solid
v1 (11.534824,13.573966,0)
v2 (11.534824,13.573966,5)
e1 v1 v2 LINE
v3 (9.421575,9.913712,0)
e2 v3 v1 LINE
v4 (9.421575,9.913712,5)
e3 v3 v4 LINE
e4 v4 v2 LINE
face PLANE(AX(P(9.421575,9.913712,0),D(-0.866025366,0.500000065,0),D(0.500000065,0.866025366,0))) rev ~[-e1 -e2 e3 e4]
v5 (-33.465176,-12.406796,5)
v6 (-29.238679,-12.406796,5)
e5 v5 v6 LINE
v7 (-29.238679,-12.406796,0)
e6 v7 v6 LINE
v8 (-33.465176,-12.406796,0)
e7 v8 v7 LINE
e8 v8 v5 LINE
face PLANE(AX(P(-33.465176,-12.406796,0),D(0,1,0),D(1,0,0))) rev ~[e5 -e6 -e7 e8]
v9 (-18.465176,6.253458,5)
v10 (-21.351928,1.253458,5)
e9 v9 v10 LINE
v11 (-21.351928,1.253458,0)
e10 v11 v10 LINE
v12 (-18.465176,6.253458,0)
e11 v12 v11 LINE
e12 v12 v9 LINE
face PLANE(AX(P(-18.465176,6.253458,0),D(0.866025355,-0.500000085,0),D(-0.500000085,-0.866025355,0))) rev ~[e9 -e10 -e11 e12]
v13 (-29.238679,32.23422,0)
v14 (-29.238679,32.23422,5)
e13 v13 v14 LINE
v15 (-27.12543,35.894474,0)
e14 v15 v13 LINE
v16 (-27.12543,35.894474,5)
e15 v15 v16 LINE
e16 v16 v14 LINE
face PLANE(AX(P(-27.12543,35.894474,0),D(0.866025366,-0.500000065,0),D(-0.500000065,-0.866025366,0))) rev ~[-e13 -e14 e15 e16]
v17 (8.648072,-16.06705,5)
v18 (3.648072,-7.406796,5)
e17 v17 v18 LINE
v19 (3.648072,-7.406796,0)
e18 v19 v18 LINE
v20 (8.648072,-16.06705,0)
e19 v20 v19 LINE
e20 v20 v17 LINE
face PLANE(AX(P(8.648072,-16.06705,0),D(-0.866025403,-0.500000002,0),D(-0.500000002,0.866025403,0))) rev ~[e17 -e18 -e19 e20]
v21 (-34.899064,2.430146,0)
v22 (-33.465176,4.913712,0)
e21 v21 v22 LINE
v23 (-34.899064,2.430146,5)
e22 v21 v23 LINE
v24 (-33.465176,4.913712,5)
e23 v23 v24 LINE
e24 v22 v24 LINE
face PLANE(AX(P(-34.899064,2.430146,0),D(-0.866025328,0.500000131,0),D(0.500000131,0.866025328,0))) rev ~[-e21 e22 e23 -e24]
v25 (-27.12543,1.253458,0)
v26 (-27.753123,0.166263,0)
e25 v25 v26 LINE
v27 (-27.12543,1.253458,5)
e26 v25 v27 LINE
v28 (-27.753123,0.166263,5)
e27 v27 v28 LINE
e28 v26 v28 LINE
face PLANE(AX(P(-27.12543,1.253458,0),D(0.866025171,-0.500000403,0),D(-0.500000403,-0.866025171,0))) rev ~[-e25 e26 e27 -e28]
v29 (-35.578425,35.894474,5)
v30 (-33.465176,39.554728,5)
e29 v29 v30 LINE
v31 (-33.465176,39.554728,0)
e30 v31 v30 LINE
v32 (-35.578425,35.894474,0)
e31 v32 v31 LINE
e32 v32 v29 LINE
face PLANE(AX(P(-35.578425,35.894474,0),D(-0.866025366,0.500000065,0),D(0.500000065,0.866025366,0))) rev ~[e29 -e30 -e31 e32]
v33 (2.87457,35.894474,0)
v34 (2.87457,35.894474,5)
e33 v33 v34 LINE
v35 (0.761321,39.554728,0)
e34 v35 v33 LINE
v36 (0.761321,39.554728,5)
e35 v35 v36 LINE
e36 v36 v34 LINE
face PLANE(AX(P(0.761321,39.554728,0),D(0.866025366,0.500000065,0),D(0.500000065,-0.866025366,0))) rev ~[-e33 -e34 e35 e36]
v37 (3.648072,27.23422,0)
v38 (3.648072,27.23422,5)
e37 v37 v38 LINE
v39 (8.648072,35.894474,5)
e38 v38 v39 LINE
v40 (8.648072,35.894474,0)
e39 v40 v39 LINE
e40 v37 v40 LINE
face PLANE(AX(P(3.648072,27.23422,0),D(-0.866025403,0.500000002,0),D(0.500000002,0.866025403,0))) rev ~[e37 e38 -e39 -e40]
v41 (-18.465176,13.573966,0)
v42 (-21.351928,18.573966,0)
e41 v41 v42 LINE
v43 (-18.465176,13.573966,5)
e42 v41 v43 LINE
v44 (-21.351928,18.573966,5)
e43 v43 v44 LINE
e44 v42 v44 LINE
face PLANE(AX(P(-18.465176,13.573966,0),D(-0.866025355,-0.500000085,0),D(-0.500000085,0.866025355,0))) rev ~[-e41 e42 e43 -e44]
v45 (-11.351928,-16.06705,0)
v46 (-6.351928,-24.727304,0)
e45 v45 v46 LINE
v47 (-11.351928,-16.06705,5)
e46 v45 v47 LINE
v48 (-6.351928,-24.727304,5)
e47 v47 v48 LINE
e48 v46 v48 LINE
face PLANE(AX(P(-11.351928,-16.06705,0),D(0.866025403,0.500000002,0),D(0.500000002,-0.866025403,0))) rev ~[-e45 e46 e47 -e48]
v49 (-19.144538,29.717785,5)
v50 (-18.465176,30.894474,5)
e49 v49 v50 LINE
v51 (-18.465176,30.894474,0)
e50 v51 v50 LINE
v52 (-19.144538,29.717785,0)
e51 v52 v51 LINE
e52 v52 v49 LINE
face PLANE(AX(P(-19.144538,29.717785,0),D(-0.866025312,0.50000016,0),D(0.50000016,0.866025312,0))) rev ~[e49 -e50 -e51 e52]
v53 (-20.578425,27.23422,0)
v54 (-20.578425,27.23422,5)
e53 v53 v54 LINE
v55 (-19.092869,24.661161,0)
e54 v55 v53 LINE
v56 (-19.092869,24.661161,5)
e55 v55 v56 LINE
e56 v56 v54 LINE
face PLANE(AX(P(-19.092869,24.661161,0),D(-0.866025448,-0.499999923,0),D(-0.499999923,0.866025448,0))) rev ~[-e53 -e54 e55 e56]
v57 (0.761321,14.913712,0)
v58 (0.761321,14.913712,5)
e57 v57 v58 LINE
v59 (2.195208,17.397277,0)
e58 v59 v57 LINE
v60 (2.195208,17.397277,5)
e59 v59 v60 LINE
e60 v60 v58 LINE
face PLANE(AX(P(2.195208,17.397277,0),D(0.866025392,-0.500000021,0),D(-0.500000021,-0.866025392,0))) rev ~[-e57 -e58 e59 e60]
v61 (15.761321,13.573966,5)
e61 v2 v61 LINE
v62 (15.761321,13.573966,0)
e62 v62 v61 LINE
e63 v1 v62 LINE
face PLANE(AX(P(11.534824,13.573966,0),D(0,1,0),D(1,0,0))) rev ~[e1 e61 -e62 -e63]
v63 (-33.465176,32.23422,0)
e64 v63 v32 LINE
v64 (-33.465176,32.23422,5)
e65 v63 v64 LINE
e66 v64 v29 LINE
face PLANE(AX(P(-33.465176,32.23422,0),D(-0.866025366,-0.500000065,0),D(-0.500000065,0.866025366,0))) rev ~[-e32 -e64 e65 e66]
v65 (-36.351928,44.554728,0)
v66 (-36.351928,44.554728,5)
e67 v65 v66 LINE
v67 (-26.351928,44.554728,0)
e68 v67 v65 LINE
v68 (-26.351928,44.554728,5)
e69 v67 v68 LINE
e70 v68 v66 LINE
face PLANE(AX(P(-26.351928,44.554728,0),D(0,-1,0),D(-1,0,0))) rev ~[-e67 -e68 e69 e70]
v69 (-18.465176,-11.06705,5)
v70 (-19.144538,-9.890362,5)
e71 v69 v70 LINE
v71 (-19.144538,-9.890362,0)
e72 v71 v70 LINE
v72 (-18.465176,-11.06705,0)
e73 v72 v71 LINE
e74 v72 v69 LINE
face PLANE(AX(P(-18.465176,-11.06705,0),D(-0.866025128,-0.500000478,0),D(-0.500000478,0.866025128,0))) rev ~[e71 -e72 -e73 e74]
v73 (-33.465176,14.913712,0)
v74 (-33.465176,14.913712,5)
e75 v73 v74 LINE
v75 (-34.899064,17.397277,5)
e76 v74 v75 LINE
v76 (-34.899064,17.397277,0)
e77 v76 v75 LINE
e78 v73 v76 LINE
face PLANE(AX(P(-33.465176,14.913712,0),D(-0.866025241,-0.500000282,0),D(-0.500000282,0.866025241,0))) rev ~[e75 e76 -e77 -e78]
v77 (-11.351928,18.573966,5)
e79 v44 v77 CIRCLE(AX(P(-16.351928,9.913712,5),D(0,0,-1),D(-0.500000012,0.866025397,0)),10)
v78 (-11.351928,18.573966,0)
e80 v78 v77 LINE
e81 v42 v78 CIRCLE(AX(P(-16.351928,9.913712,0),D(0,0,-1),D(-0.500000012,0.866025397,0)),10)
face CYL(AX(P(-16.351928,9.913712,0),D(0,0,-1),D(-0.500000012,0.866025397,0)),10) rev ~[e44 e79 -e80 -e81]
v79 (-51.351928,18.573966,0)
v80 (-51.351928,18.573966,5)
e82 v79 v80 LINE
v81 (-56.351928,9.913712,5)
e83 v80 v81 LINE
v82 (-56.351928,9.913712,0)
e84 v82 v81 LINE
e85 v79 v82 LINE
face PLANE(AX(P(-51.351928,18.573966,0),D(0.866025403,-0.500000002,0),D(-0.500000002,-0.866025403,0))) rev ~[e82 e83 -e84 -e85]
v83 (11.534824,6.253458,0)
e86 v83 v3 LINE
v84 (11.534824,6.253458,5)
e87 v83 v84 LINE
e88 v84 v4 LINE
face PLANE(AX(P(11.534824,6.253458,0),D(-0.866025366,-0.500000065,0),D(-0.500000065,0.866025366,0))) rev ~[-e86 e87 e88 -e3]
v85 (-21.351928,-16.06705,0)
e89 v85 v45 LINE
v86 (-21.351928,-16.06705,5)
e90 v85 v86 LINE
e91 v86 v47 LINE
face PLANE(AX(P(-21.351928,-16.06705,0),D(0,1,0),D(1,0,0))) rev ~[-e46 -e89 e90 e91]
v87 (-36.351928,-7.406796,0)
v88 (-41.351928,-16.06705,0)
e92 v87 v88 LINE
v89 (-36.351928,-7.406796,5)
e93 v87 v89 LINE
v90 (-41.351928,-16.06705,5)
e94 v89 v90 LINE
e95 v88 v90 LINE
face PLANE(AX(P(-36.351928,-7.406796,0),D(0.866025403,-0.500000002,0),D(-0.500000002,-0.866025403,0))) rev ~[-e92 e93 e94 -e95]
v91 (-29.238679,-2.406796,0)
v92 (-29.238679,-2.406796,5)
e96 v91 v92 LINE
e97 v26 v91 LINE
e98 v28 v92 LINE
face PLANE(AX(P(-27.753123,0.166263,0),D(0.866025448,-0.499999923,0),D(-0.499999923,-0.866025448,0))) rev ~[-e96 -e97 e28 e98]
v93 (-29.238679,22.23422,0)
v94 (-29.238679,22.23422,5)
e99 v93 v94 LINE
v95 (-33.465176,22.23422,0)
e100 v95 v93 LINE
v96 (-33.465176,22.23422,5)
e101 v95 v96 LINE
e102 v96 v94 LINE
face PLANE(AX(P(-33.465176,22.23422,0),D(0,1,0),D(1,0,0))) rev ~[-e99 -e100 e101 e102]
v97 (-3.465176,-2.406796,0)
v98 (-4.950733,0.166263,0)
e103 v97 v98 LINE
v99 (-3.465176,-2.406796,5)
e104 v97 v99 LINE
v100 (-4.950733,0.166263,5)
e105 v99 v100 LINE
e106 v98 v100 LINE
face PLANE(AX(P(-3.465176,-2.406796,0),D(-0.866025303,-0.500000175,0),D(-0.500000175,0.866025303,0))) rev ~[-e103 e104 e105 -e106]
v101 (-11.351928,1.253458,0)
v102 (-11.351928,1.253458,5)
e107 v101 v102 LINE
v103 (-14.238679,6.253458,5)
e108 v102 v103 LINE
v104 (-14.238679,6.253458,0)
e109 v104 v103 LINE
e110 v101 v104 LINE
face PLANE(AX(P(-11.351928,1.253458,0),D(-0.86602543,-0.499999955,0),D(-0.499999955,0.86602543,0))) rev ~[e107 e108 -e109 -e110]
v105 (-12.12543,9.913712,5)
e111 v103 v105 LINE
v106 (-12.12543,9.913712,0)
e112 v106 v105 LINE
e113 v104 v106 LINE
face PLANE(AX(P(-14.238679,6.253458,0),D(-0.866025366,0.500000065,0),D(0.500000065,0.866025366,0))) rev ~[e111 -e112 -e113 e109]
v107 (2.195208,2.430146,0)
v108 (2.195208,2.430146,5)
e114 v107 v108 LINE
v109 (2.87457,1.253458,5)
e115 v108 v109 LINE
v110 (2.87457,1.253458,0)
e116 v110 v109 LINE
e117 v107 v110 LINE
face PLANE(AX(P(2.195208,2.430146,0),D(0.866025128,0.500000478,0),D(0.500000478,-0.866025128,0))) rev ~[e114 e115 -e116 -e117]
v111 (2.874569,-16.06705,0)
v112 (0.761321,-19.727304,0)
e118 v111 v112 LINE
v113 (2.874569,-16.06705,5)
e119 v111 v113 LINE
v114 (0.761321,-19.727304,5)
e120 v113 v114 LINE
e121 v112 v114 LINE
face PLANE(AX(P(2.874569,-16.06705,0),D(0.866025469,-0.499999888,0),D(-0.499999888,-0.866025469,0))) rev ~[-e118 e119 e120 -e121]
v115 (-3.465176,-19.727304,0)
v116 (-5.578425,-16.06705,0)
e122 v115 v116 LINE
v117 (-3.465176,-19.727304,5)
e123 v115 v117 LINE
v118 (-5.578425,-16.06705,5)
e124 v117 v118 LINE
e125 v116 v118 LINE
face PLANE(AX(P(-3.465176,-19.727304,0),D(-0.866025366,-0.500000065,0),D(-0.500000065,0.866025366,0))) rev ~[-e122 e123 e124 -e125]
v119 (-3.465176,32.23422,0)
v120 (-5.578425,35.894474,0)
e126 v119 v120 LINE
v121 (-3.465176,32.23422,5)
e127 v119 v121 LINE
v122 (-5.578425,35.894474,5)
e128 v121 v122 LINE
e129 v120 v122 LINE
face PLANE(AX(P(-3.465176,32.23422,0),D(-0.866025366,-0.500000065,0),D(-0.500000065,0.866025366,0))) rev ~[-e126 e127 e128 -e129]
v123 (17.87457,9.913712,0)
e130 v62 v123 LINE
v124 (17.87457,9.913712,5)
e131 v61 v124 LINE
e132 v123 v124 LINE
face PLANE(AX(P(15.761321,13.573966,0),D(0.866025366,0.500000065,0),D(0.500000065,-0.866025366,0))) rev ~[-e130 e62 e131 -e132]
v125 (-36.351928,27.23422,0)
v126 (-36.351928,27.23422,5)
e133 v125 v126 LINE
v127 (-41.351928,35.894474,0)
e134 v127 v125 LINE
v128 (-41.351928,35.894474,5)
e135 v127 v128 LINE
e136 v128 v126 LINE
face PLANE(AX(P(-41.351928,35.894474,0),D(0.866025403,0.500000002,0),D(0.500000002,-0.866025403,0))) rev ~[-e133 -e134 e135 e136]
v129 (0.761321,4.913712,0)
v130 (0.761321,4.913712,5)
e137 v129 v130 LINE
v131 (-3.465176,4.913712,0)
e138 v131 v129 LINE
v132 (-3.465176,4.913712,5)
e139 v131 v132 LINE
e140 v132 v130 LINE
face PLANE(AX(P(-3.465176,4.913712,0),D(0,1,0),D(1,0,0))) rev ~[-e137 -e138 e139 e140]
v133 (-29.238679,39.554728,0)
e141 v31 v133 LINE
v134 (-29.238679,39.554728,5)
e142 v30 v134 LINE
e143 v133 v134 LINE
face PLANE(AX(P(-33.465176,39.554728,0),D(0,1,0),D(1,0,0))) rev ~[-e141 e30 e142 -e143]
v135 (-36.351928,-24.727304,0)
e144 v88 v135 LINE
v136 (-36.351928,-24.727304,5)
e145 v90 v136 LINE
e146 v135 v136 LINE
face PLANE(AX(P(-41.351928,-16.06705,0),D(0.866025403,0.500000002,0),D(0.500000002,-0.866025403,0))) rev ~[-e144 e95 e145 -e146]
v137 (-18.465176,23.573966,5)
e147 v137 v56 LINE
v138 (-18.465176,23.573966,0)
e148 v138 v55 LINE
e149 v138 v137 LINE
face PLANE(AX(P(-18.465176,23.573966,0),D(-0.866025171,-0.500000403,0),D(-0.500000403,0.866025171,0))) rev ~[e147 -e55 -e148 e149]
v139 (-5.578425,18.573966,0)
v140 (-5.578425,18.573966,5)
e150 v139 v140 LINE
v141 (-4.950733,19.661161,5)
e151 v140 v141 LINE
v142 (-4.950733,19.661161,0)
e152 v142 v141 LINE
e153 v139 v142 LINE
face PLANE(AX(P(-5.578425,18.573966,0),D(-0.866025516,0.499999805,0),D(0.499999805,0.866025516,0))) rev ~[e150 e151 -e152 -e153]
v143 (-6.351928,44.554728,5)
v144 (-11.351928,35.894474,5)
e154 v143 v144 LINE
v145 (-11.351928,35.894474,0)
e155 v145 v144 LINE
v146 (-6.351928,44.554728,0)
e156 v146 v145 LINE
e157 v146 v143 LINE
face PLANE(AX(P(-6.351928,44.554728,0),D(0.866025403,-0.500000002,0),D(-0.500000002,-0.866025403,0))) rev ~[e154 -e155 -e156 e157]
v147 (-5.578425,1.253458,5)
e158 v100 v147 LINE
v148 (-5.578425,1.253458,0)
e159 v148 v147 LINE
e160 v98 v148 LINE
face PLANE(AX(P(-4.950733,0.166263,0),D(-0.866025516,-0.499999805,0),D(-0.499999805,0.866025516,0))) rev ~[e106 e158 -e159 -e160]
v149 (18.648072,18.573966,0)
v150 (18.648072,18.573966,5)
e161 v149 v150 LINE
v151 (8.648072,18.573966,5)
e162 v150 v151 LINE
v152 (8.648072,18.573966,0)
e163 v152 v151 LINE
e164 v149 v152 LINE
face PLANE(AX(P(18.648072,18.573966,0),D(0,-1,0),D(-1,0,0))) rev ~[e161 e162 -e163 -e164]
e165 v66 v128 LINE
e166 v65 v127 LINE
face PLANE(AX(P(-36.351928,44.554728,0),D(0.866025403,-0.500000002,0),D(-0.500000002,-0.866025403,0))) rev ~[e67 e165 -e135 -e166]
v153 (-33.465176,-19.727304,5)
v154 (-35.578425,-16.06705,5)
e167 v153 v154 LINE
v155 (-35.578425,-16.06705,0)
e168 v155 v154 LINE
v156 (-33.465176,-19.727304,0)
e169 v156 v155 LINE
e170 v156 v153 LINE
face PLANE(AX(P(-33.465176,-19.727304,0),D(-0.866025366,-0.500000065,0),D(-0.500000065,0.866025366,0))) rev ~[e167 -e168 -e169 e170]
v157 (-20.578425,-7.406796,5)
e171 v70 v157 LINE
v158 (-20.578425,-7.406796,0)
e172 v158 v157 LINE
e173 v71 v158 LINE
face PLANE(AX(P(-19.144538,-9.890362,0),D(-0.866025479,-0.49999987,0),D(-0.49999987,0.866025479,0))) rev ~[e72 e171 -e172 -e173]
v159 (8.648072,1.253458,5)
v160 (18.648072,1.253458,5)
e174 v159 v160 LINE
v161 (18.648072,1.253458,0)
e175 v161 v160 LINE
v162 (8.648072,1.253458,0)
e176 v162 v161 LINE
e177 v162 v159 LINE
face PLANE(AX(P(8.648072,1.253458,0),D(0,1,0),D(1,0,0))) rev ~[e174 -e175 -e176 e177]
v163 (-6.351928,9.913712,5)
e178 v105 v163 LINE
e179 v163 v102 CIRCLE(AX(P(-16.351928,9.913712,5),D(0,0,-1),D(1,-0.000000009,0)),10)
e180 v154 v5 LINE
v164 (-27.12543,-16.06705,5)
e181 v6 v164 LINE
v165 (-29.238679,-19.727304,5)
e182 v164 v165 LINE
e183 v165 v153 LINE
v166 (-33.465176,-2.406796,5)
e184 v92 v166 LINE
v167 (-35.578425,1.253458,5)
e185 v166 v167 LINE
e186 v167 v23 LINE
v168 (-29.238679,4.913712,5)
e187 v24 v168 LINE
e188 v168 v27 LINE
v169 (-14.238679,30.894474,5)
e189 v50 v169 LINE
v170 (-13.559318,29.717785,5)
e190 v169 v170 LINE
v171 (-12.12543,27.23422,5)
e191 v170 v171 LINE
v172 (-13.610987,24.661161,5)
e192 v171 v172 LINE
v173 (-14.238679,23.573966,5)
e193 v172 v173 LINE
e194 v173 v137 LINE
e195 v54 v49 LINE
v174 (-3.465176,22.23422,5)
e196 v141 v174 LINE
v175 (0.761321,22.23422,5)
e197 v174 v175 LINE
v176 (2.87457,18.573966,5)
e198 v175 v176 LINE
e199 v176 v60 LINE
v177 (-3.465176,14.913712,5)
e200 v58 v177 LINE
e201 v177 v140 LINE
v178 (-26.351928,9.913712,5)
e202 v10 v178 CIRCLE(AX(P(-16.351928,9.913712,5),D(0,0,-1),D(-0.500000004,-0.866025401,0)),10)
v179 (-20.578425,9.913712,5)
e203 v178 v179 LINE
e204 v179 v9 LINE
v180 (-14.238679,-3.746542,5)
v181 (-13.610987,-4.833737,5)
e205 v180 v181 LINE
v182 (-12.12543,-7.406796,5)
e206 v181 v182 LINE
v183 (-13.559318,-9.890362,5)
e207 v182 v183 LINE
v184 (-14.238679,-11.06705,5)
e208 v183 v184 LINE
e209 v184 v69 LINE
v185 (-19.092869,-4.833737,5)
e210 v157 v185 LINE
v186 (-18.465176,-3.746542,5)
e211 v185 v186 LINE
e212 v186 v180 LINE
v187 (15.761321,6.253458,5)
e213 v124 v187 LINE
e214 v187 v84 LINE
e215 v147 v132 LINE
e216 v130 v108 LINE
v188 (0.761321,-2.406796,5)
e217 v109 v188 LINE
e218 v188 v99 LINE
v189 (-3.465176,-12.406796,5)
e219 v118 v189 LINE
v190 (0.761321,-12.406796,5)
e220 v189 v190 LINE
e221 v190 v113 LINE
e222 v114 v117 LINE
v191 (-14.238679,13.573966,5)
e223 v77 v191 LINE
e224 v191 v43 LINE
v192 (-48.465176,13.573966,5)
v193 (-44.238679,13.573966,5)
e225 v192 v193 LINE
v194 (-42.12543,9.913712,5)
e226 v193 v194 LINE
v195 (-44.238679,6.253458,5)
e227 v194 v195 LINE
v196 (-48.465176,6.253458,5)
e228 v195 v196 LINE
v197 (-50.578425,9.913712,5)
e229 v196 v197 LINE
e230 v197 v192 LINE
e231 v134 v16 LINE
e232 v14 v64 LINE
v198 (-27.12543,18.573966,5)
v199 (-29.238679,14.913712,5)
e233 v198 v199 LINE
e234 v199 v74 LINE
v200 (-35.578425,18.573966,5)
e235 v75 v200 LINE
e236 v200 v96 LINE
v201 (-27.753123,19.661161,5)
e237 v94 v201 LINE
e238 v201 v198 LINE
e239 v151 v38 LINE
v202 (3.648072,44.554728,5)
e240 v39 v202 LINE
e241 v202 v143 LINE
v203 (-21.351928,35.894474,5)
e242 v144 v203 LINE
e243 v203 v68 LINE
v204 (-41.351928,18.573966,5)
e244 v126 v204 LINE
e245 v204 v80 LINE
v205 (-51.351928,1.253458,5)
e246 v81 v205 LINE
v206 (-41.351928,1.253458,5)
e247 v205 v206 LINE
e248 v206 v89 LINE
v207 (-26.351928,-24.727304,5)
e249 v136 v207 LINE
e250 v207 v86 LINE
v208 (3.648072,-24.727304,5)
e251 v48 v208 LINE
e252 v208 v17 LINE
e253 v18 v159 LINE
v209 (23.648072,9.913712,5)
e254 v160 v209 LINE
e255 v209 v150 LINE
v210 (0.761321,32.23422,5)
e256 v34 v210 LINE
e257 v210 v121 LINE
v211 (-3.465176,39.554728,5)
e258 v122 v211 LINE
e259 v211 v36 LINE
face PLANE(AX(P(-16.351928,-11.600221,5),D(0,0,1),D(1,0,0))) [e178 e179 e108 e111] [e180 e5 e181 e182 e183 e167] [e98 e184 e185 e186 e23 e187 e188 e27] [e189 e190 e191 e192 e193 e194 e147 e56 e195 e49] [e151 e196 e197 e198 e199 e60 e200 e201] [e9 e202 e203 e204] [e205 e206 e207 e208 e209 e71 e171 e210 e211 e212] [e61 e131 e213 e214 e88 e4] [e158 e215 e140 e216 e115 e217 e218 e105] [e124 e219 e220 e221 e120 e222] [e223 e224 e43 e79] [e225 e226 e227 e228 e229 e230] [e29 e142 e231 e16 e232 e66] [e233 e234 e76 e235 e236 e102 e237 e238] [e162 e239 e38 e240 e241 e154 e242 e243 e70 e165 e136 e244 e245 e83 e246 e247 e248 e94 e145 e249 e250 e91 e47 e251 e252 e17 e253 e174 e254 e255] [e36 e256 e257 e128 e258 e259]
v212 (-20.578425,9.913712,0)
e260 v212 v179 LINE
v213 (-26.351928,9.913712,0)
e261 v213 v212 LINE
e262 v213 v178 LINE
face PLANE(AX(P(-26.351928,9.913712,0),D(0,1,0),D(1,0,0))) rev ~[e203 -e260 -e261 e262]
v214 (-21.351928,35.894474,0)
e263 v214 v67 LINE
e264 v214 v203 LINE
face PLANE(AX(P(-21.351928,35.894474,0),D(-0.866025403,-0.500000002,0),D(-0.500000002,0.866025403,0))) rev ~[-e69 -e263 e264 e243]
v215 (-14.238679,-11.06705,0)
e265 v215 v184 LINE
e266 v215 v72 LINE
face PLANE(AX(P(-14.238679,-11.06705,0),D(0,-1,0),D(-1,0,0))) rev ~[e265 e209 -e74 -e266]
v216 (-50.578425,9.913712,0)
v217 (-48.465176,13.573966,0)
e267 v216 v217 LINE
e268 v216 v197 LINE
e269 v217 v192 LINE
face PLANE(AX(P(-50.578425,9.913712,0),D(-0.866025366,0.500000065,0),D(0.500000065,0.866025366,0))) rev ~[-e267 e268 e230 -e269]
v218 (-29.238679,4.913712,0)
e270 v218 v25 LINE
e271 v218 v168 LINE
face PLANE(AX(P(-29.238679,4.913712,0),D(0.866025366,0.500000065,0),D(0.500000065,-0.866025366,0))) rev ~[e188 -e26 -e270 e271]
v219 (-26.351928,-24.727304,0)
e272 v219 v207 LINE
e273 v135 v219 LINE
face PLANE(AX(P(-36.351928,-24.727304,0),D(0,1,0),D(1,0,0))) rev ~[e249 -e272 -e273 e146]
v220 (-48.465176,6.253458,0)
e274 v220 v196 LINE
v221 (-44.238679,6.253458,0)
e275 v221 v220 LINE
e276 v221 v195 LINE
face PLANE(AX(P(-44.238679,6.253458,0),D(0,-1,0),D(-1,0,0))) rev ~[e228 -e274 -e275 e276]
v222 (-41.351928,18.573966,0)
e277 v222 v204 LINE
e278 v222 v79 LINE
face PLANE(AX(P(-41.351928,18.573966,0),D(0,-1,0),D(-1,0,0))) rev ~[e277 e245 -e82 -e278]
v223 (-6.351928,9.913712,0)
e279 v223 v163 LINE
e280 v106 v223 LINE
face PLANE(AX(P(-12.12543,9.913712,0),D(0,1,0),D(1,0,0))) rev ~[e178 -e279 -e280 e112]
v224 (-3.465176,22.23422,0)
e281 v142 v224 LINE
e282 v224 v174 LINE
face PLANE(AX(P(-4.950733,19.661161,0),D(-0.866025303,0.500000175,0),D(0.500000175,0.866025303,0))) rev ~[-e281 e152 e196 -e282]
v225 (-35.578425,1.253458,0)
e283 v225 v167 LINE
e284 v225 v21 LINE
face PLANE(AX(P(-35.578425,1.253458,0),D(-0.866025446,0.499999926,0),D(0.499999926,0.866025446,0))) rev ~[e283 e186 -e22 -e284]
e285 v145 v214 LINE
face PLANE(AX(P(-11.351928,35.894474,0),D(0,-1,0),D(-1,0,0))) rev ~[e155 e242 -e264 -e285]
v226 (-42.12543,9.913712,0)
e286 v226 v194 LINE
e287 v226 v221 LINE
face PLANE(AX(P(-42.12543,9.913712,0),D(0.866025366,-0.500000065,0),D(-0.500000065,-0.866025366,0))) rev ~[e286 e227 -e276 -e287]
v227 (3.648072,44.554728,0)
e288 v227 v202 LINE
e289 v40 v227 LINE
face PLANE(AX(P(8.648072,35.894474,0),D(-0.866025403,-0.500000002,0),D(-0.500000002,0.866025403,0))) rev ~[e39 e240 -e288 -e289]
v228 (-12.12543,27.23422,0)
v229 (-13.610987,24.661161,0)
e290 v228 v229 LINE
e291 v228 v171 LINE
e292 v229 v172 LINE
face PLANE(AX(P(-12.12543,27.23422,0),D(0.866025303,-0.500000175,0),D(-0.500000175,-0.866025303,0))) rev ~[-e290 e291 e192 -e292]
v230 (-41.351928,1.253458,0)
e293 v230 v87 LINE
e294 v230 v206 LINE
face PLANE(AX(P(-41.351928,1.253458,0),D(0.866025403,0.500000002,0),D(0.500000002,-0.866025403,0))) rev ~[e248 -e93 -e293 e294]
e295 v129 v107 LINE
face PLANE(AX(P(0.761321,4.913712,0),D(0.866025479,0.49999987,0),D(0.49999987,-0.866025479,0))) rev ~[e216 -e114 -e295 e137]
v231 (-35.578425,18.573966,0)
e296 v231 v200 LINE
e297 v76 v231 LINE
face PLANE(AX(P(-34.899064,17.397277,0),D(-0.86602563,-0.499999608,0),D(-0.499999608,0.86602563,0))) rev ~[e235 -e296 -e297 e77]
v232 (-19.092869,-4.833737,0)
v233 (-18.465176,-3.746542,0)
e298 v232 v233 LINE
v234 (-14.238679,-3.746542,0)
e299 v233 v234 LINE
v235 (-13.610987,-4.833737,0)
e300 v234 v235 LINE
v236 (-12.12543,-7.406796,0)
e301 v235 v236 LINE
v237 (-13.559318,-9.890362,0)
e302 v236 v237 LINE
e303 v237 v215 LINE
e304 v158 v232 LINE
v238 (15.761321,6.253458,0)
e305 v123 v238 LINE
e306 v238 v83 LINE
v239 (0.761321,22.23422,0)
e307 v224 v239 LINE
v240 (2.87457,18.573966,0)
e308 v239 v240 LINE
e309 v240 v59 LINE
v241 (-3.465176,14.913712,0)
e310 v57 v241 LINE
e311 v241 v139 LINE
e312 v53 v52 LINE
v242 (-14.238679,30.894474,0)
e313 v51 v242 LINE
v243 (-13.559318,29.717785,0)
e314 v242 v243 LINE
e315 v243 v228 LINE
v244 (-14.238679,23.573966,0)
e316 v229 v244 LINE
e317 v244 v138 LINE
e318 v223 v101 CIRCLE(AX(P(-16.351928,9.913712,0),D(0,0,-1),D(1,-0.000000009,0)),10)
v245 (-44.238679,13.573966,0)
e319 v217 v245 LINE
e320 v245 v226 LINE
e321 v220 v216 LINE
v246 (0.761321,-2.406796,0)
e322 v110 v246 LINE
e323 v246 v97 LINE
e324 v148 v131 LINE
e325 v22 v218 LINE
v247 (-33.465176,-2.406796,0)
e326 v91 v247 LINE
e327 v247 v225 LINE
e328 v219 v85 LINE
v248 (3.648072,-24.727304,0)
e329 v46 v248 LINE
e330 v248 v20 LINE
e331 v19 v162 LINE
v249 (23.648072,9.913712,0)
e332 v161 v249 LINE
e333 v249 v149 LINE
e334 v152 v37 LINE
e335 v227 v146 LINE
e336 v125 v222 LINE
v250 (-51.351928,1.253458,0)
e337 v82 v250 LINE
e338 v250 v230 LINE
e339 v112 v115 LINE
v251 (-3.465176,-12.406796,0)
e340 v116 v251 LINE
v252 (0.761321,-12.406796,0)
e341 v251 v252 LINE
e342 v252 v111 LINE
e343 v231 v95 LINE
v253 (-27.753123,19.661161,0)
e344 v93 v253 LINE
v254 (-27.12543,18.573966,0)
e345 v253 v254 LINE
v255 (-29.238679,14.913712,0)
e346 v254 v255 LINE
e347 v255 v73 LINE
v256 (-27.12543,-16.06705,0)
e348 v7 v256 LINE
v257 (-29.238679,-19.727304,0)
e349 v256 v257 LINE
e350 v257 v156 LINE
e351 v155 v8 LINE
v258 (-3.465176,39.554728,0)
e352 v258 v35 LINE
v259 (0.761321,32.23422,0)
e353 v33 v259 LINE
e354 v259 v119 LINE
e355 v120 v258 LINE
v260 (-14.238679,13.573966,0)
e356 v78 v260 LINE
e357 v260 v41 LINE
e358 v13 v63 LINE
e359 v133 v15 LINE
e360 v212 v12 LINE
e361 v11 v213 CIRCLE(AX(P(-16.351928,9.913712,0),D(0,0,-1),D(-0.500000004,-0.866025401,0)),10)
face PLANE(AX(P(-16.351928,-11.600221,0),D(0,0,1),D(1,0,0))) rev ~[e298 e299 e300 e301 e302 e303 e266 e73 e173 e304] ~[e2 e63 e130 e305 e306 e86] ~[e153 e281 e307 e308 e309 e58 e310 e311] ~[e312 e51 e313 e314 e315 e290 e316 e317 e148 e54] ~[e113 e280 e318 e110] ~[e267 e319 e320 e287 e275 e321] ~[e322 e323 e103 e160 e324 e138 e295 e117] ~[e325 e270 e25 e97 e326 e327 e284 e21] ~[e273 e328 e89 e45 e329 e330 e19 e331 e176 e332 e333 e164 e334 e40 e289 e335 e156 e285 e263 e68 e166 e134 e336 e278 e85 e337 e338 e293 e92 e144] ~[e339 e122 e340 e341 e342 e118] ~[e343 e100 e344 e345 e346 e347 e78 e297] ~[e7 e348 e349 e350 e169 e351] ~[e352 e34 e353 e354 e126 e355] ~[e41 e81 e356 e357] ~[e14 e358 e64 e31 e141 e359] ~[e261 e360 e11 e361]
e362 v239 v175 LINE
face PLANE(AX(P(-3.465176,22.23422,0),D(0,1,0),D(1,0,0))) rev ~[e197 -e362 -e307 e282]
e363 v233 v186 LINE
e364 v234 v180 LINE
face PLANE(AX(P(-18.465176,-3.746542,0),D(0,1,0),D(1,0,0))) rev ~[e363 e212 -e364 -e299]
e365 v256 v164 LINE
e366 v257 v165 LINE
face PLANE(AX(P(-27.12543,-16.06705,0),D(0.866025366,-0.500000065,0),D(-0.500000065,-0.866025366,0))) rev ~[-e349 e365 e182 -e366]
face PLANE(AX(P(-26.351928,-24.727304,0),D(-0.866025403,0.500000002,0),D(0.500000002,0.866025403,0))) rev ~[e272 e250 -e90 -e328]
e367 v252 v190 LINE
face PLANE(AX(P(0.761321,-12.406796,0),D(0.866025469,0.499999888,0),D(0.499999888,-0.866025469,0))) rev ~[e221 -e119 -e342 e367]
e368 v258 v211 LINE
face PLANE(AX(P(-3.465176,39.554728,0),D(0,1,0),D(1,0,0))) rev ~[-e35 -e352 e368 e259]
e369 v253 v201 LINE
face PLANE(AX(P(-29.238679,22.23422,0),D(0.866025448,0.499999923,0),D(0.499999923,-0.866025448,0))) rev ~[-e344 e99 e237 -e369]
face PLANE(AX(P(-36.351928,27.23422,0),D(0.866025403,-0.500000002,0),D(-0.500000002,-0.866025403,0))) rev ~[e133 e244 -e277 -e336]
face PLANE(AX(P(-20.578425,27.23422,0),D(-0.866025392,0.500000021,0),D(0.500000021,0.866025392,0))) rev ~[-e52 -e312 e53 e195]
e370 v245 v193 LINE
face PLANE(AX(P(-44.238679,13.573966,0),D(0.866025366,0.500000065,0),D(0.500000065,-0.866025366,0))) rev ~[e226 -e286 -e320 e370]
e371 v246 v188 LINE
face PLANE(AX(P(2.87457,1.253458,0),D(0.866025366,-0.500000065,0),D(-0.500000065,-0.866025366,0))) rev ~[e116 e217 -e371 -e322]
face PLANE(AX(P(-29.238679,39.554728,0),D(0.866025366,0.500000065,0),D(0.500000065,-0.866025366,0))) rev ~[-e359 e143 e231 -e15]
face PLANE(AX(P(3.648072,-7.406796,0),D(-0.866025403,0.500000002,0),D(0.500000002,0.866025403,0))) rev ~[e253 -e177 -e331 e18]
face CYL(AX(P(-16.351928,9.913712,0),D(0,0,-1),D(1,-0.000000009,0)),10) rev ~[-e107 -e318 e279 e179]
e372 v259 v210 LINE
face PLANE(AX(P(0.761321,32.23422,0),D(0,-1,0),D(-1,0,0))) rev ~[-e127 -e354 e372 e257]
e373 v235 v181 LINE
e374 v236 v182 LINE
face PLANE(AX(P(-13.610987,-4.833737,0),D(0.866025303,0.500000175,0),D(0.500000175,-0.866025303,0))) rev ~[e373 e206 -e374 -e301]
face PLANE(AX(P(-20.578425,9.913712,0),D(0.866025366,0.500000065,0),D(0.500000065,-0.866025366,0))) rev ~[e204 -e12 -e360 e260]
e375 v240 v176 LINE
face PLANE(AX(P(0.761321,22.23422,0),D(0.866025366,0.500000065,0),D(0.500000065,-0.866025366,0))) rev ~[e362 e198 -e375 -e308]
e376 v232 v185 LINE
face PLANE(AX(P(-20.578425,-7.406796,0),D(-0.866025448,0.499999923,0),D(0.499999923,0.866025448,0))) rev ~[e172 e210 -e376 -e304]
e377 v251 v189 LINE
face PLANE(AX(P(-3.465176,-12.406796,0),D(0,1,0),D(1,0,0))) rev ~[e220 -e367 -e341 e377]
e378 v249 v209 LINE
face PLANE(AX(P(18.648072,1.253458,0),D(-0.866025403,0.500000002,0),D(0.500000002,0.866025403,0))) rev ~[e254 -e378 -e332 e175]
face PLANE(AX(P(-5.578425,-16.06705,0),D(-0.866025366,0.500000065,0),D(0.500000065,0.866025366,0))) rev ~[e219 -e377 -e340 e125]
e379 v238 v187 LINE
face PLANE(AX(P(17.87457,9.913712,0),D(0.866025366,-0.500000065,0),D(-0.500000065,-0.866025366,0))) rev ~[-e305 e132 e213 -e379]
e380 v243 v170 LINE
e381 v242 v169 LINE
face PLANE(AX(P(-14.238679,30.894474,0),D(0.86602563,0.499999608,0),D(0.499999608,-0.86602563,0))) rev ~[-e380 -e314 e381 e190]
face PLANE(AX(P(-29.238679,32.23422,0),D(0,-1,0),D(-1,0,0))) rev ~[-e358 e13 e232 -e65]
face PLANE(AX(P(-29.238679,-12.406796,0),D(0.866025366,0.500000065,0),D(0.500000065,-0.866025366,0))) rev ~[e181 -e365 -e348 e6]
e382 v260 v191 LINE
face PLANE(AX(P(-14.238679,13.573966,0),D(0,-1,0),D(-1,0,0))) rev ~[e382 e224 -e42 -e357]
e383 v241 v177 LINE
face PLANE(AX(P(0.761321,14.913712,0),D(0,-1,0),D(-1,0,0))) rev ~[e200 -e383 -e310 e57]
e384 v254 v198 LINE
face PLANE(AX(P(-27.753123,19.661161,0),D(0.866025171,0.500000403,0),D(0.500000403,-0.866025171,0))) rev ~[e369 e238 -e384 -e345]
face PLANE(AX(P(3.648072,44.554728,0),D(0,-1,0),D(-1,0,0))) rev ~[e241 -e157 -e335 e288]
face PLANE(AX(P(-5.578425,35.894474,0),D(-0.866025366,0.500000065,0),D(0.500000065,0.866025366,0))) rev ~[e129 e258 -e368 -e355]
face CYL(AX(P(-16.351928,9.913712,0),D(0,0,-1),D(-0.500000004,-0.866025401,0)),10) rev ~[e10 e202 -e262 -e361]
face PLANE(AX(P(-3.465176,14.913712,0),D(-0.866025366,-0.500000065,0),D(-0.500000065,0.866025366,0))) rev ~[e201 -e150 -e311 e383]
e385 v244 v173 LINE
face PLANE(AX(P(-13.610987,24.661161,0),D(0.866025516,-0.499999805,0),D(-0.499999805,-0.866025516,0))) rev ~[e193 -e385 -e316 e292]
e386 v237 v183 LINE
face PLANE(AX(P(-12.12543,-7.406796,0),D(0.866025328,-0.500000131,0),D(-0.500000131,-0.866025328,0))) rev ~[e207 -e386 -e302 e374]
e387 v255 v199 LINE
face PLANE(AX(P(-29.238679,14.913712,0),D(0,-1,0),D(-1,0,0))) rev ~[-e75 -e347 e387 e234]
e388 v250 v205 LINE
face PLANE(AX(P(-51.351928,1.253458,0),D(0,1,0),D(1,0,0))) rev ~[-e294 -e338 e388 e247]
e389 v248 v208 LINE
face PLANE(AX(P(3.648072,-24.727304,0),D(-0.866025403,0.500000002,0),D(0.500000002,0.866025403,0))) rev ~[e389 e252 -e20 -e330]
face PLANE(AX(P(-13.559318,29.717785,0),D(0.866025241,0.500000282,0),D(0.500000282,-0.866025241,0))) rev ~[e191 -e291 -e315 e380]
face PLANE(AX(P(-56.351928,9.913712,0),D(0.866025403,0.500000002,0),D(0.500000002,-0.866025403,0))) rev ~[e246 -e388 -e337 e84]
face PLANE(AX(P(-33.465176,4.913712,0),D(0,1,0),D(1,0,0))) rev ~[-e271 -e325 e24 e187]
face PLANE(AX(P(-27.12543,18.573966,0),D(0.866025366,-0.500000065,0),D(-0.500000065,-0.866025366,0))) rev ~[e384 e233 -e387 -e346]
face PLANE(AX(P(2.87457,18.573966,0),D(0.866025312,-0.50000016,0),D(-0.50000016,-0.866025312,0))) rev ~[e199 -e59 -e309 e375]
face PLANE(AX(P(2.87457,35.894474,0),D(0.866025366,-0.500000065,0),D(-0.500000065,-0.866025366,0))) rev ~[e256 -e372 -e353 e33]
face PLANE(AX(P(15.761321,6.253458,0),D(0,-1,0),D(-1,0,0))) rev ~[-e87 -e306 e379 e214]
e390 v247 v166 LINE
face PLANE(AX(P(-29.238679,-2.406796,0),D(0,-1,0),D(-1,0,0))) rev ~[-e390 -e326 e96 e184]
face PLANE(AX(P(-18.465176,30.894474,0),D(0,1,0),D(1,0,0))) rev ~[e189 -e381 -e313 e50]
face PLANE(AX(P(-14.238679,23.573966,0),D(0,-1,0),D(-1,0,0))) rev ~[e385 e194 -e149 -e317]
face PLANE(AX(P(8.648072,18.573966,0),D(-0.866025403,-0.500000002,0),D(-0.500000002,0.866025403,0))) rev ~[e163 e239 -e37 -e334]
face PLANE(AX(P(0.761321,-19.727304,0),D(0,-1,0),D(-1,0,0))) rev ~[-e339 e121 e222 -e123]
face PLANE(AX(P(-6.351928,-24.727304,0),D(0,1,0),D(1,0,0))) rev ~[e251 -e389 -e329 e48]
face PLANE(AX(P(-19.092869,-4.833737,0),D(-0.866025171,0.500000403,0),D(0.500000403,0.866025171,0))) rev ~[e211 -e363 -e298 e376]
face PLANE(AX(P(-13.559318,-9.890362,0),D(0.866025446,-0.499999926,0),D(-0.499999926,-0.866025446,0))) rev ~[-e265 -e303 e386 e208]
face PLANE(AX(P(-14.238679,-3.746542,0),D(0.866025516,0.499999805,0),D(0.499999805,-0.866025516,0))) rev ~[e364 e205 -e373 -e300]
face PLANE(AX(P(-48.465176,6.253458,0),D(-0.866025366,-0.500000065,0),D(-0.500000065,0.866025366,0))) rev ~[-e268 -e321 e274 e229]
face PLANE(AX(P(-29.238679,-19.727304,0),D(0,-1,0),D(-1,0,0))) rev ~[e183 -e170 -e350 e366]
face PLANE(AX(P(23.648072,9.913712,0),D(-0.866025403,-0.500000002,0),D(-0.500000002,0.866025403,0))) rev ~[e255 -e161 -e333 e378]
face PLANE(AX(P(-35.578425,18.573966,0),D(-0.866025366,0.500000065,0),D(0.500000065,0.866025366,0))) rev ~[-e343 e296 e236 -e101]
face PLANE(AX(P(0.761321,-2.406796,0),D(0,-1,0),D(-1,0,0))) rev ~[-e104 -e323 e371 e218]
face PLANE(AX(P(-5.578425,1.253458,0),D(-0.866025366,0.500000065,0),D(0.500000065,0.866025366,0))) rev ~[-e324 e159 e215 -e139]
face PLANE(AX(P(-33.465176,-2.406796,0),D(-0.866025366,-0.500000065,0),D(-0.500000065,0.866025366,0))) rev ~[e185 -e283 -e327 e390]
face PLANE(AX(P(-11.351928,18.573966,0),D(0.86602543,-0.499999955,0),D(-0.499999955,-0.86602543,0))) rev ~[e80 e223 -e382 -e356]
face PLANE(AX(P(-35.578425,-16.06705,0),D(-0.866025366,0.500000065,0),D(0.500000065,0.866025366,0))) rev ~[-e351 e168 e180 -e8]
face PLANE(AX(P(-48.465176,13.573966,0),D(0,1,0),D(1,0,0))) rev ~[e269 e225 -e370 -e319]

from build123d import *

# Parameters (mm, degrees)
F1_DEPTH = 5


with BuildPart() as f1:
    # F0 (on Top) → F1 (new body)
    with BuildSketch(Plane.XY):
        with BuildLine():
            Line((-11.351928, -16.06705), (-6.351928, -7.406796))
            ThreePointArc((-6.351928, -7.406796), (-9.836197, -8.995155), (-13.559318, -9.890362))
            Line((-13.559318, -9.890362), (-14.238679, -11.06705))
            Line((-14.238679, -11.06705), (-18.465176, -11.06705))
            Line((-18.465176, -11.06705), (-19.144538, -9.890362))
            ThreePointArc((-19.144538, -9.890362), (-22.867658, -8.995155), (-26.351928, -7.406796))
            Line((-26.351928, -7.406796), (-21.351928, -16.06705))
            Line((-21.351928, -16.06705), (-11.351928, -16.06705))
        make_face()
        Polygon((-21.351928, 18.573966), (-26.351928, 9.913712), (-20.578425, 9.913712), (-18.465176, 13.573966), align=None)
        with BuildLine():
            Line((-41.351928, 18.573966), (-36.351928, 9.913712))
            ThreePointArc((-36.351928, 9.913712), (-35.985352, 13.725357), (-34.899064, 17.397277))
            Line((-34.899064, 17.397277), (-35.578425, 18.573966))
            Line((-35.578425, 18.573966), (-33.465176, 22.23422))
            Line((-33.465176, 22.23422), (-32.106454, 22.23422))
            ThreePointArc((-32.106454, 22.23422), (-29.469622, 25.010934), (-26.351928, 27.23422))
            Line((-26.351928, 27.23422), (-36.351928, 27.23422))
            Line((-36.351928, 27.23422), (-41.351928, 18.573966))
        make_face()
        Polygon((-36.351928, 27.23422), (-26.351928, 27.23422), (-21.351928, 35.894474), (-26.351928, 44.554728), (-36.351928, 44.554728), (-41.351928, 35.894474), align=None)
        Polygon((-33.465176, 39.554728), (-29.238679, 39.554728), (-27.12543, 35.894474), (-29.238679, 32.23422), (-33.465176, 32.23422), (-35.578425, 35.894474), align=None, mode=Mode.SUBTRACT)
        Polygon((-41.351928, 1.253458), (-36.351928, 9.913712), (-41.351928, 18.573966), (-51.351928, 18.573966), (-56.351928, 9.913712), (-51.351928, 1.253458), align=None)
        Polygon((-50.578425, 9.913712), (-48.465176, 13.573966), (-44.238679, 13.573966), (-42.12543, 9.913712), (-44.238679, 6.253458), (-48.465176, 6.253458), align=None, mode=Mode.SUBTRACT)
        with BuildLine():
            ThreePointArc((-11.351928, 18.573966), (-7.691674, 14.913712), (-6.351928, 9.913712))
            Line((-6.351928, 9.913712), (-1.351928, 9.913712))
            ThreePointArc((-1.351928, 9.913712), (-1.567949, 12.450242), (-2.209792, 14.913712))
            Line((-2.209792, 14.913712), (-3.465176, 14.913712))
            Line((-3.465176, 14.913712), (-5.578425, 18.573966))
            Line((-5.578425, 18.573966), (-4.950733, 19.661161))
            ThreePointArc((-4.950733, 19.661161), (-6.763239, 21.448748), (-8.851928, 22.904093))
            Line((-8.851928, 22.904093), (-11.351928, 18.573966))
        make_face()
        Polygon((-11.351928, 35.894474), (-6.351928, 27.23422), (3.648072, 27.23422), (8.648072, 35.894474), (3.648072, 44.554728), (-6.351928, 44.554728), align=None)
        Polygon((-5.578425, 35.894474), (-3.465176, 39.554728), (0.761321, 39.554728), (2.87457, 35.894474), (0.761321, 32.23422), (-3.465176, 32.23422), align=None, mode=Mode.SUBTRACT)
        Polygon((8.648072, 18.573966), (3.648072, 9.913712), (8.648072, 1.253458), (18.648072, 1.253458), (23.648072, 9.913712), (18.648072, 18.573966), align=None)
        Polygon((15.761321, 13.573966), (17.87457, 9.913712), (15.761321, 6.253458), (11.534824, 6.253458), (9.421575, 9.913712), (11.534824, 13.573966), align=None, mode=Mode.SUBTRACT)
        Polygon((-12.12543, 9.913712), (-6.351928, 9.913712), (-11.351928, 18.573966), (-14.238679, 13.573966), align=None)
        Polygon((3.648072, -7.406796), (-6.351928, -7.406796), (-11.351928, -16.06705), (-6.351928, -24.727304), (3.648072, -24.727304), (8.648072, -16.06705), align=None)
        Polygon((0.761321, -12.406796), (2.874569, -16.06705), (0.761321, -19.727304), (-3.465176, -19.727304), (-5.578425, -16.06705), (-3.465176, -12.406796), align=None, mode=Mode.SUBTRACT)
        with BuildLine():
            Line((-31.351928, 9.913712), (-26.351928, 9.913712))
            ThreePointArc((-26.351928, 9.913712), (-25.012182, 14.913712), (-21.351928, 18.573966))
            Line((-21.351928, 18.573966), (-23.851928, 22.904093))
            ThreePointArc((-23.851928, 22.904093), (-25.940616, 21.448748), (-27.753123, 19.661161))
            Line((-27.753123, 19.661161), (-27.12543, 18.573966))
            Line((-27.12543, 18.573966), (-29.238679, 14.913712))
            Line((-29.238679, 14.913712), (-30.494063, 14.913712))
            ThreePointArc((-30.494063, 14.913712), (-31.135906, 12.450242), (-31.351928, 9.913712))
        make_face()
        Polygon((-21.351928, -16.06705), (-26.351928, -7.406796), (-36.351928, -7.406796), (-41.351928, -16.06705), (-36.351928, -24.727304), (-26.351928, -24.727304), align=None)
        Polygon((-33.465176, -19.727304), (-35.578425, -16.06705), (-33.465176, -12.406796), (-29.238679, -12.406796), (-27.12543, -16.06705), (-29.238679, -19.727304), align=None, mode=Mode.SUBTRACT)
        with BuildLine():
            Line((-36.351928, -7.406796), (-26.351928, -7.406796))
            ThreePointArc((-26.351928, -7.406796), (-29.469622, -5.18351), (-32.106454, -2.406796))
            Line((-32.106454, -2.406796), (-33.465176, -2.406796))
            Line((-33.465176, -2.406796), (-35.578425, 1.253458))
            Line((-35.578425, 1.253458), (-34.899064, 2.430146))
            ThreePointArc((-34.899064, 2.430146), (-35.985352, 6.102066), (-36.351928, 9.913712))
            Line((-36.351928, 9.913712), (-41.351928, 1.253458))
            Line((-41.351928, 1.253458), (-36.351928, -7.406796))
        make_face()
        with BuildLine():
            ThreePointArc((2.195208, 17.397277), (3.281497, 13.725357), (3.648072, 9.913712))
            Line((3.648072, 9.913712), (8.648072, 18.573966))
            Line((8.648072, 18.573966), (3.648072, 27.23422))
            Line((3.648072, 27.23422), (-6.351928, 27.23422))
            ThreePointArc((-6.351928, 27.23422), (-3.234234, 25.010934), (-0.597402, 22.23422))
            Line((-0.597402, 22.23422), (0.761321, 22.23422))
            Line((0.761321, 22.23422), (2.87457, 18.573966))
            Line((2.87457, 18.573966), (2.195208, 17.397277))
        make_face()
        with BuildLine():
            ThreePointArc((-13.559318, 29.717785), (-9.836197, 28.822579), (-6.351928, 27.23422))
            Line((-6.351928, 27.23422), (-11.351928, 35.894474))
            Line((-11.351928, 35.894474), (-21.351928, 35.894474))
            Line((-21.351928, 35.894474), (-26.351928, 27.23422))
            ThreePointArc((-26.351928, 27.23422), (-22.867658, 28.822579), (-19.144538, 29.717785))
            Line((-19.144538, 29.717785), (-18.465176, 30.894474))
            Line((-18.465176, 30.894474), (-14.238679, 30.894474))
            Line((-14.238679, 30.894474), (-13.559318, 29.717785))
        make_face()
        with BuildLine():
            ThreePointArc((-0.597402, -2.406796), (-3.234234, -5.18351), (-6.351928, -7.406796))
            Line((-6.351928, -7.406796), (3.648072, -7.406796))
            Line((3.648072, -7.406796), (8.648072, 1.253458))
            Line((8.648072, 1.253458), (3.648072, 9.913712))
            ThreePointArc((3.648072, 9.913712), (3.281497, 6.102066), (2.195208, 2.430146))
            Line((2.195208, 2.430146), (2.87457, 1.253458))
            Line((2.87457, 1.253458), (0.761321, -2.406796))
            Line((0.761321, -2.406796), (-0.597402, -2.406796))
        make_face()
        with BuildLine():
            Line((-26.351928, 27.23422), (-23.851928, 22.904093))
            ThreePointArc((-23.851928, 22.904093), (-21.547218, 23.985278), (-19.092869, 24.661161))
            Line((-19.092869, 24.661161), (-20.578425, 27.23422))
            Line((-20.578425, 27.23422), (-19.144538, 29.717785))
            ThreePointArc((-19.144538, 29.717785), (-22.867658, 28.822579), (-26.351928, 27.23422))
        make_face()
        with BuildLine():
            ThreePointArc((-30.494063, 4.913712), (-31.135906, 7.377182), (-31.351928, 9.913712))
            Line((-31.351928, 9.913712), (-36.351928, 9.913712))
            ThreePointArc((-36.351928, 9.913712), (-35.985352, 6.102066), (-34.899064, 2.430146))
            Line((-34.899064, 2.430146), (-33.465176, 4.913712))
            Line((-33.465176, 4.913712), (-30.494063, 4.913712))
        make_face()
        with BuildLine():
            ThreePointArc((-6.351928, 9.913712), (-7.691674, 4.913712), (-11.351928, 1.253458))
            Line((-11.351928, 1.253458), (-8.851928, -3.076669))
            ThreePointArc((-8.851928, -3.076669), (-6.763239, -1.621324), (-4.950733, 0.166263))
            Line((-4.950733, 0.166263), (-5.578425, 1.253458))
            Line((-5.578425, 1.253458), (-3.465176, 4.913712))
            Line((-3.465176, 4.913712), (-2.209792, 4.913712))
            ThreePointArc((-2.209792, 4.913712), (-1.567949, 7.377182), (-1.351928, 9.913712))
            Line((-1.351928, 9.913712), (-6.351928, 9.913712))
        make_face()
        with BuildLine():
            Line((-36.351928, 9.913712), (-31.351928, 9.913712))
            ThreePointArc((-31.351928, 9.913712), (-31.135906, 12.450242), (-30.494063, 14.913712))
            Line((-30.494063, 14.913712), (-33.465176, 14.913712))
            Line((-33.465176, 14.913712), (-34.899064, 17.397277))
            ThreePointArc((-34.899064, 17.397277), (-35.985352, 13.725357), (-36.351928, 9.913712))
        make_face()
        with BuildLine():
            Line((-8.851928, -3.076669), (-11.351928, 1.253458))
            ThreePointArc((-11.351928, 1.253458), (-16.351928, -0.086288), (-21.351928, 1.253458))
            Line((-21.351928, 1.253458), (-23.851928, -3.076669))
            ThreePointArc((-23.851928, -3.076669), (-21.547218, -4.157854), (-19.092869, -4.833737))
            Line((-19.092869, -4.833737), (-18.465176, -3.746542))
            Line((-18.465176, -3.746542), (-14.238679, -3.746542))
            Line((-14.238679, -3.746542), (-13.610987, -4.833737))
            ThreePointArc((-13.610987, -4.833737), (-11.156638, -4.157854), (-8.851928, -3.076669))
        make_face()
        with BuildLine():
            ThreePointArc((-13.610987, 24.661161), (-11.156638, 23.985278), (-8.851928, 22.904093))
            Line((-8.851928, 22.904093), (-6.351928, 27.23422))
            ThreePointArc((-6.351928, 27.23422), (-9.836197, 28.822579), (-13.559318, 29.717785))
            Line((-13.559318, 29.717785), (-12.12543, 27.23422))
            Line((-12.12543, 27.23422), (-13.610987, 24.661161))
        make_face()
        with BuildLine():
            Line((-23.851928, -3.076669), (-21.351928, 1.253458))
            ThreePointArc((-21.351928, 1.253458), (-25.012182, 4.913712), (-26.351928, 9.913712))
            Line((-26.351928, 9.913712), (-31.351928, 9.913712))
            ThreePointArc((-31.351928, 9.913712), (-31.135906, 7.377182), (-30.494063, 4.913712))
            Line((-30.494063, 4.913712), (-29.238679, 4.913712))
            Line((-29.238679, 4.913712), (-27.12543, 1.253458))
            Line((-27.12543, 1.253458), (-27.753123, 0.166263))
            ThreePointArc((-27.753123, 0.166263), (-25.940616, -1.621324), (-23.851928, -3.076669))
        make_face()
        with BuildLine():
            ThreePointArc((-21.351928, 18.573966), (-16.351928, 19.913712), (-11.351928, 18.573966))
            Line((-11.351928, 18.573966), (-8.851928, 22.904093))
            ThreePointArc((-8.851928, 22.904093), (-11.156638, 23.985278), (-13.610987, 24.661161))
            Line((-13.610987, 24.661161), (-14.238679, 23.573966))
            Line((-14.238679, 23.573966), (-18.465176, 23.573966))
            Line((-18.465176, 23.573966), (-19.092869, 24.661161))
            ThreePointArc((-19.092869, 24.661161), (-21.547218, 23.985278), (-23.851928, 22.904093))
            Line((-23.851928, 22.904093), (-21.351928, 18.573966))
        make_face()
        with BuildLine():
            Line((3.648072, 9.913712), (-1.351928, 9.913712))
            ThreePointArc((-1.351928, 9.913712), (-1.567949, 7.377182), (-2.209792, 4.913712))
            Line((-2.209792, 4.913712), (0.761321, 4.913712))
            Line((0.761321, 4.913712), (2.195208, 2.430146))
            ThreePointArc((2.195208, 2.430146), (3.281497, 6.102066), (3.648072, 9.913712))
        make_face()
        with BuildLine():
            ThreePointArc((-19.092869, -4.833737), (-21.547218, -4.157854), (-23.851928, -3.076669))
            Line((-23.851928, -3.076669), (-26.351928, -7.406796))
            ThreePointArc((-26.351928, -7.406796), (-22.867658, -8.995155), (-19.144538, -9.890362))
            Line((-19.144538, -9.890362), (-20.578425, -7.406796))
            Line((-20.578425, -7.406796), (-19.092869, -4.833737))
        make_face()
        with BuildLine():
            Line((-6.351928, -7.406796), (-8.851928, -3.076669))
            ThreePointArc((-8.851928, -3.076669), (-11.156638, -4.157854), (-13.610987, -4.833737))
            Line((-13.610987, -4.833737), (-12.12543, -7.406796))
            Line((-12.12543, -7.406796), (-13.559318, -9.890362))
            ThreePointArc((-13.559318, -9.890362), (-9.836197, -8.995155), (-6.351928, -7.406796))
        make_face()
        with BuildLine():
            ThreePointArc((-2.209792, 14.913712), (-1.567949, 12.450242), (-1.351928, 9.913712))
            Line((-1.351928, 9.913712), (3.648072, 9.913712))
            ThreePointArc((3.648072, 9.913712), (3.281497, 13.725357), (2.195208, 17.397277))
            Line((2.195208, 17.397277), (0.761321, 14.913712))
            Line((0.761321, 14.913712), (-2.209792, 14.913712))
        make_face()
        with BuildLine():
            Line((-26.351928, -7.406796), (-23.851928, -3.076669))
            ThreePointArc((-23.851928, -3.076669), (-25.940616, -1.621324), (-27.753123, 0.166263))
            Line((-27.753123, 0.166263), (-29.238679, -2.406796))
            Line((-29.238679, -2.406796), (-32.106454, -2.406796))
            ThreePointArc((-32.106454, -2.406796), (-29.469622, -5.18351), (-26.351928, -7.406796))
        make_face()
        with BuildLine():
            Line((-6.351928, 27.23422), (-8.851928, 22.904093))
            ThreePointArc((-8.851928, 22.904093), (-6.763239, 21.448748), (-4.950733, 19.661161))
            Line((-4.950733, 19.661161), (-3.465176, 22.23422))
            Line((-3.465176, 22.23422), (-0.597402, 22.23422))
            ThreePointArc((-0.597402, 22.23422), (-3.234234, 25.010934), (-6.351928, 27.23422))
        make_face()
        with BuildLine():
            ThreePointArc((-27.753123, 19.661161), (-25.940616, 21.448748), (-23.851928, 22.904093))
            Line((-23.851928, 22.904093), (-26.351928, 27.23422))
            ThreePointArc((-26.351928, 27.23422), (-29.469622, 25.010934), (-32.106454, 22.23422))
            Line((-32.106454, 22.23422), (-29.238679, 22.23422))
            Line((-29.238679, 22.23422), (-27.753123, 19.661161))
        make_face()
        Polygon((-21.351928, 1.253458), (-11.351928, 1.253458), (-14.238679, 6.253458), (-18.465176, 6.253458), align=None)
        with BuildLine():
            ThreePointArc((-4.950733, 0.166263), (-6.763239, -1.621324), (-8.851928, -3.076669))
            Line((-8.851928, -3.076669), (-6.351928, -7.406796))
            ThreePointArc((-6.351928, -7.406796), (-3.234234, -5.18351), (-0.597402, -2.406796))
            Line((-0.597402, -2.406796), (-3.465176, -2.406796))
            Line((-3.465176, -2.406796), (-4.950733, 0.166263))
        make_face()
        Polygon((-16.351928, 9.913712), (-12.12543, 9.913712), (-14.238679, 13.573966), align=None)
        Polygon((-18.465176, 13.573966), (-16.351928, 9.913712), (-14.238679, 13.573966), align=None)
        Polygon((-20.578425, 9.913712), (-16.351928, 9.913712), (-18.465176, 13.573966), align=None)
        Polygon((-16.351928, 9.913712), (-14.238679, 6.253458), (-12.12543, 9.913712), align=None)
        Polygon((-20.578425, 9.913712), (-18.465176, 6.253458), (-16.351928, 9.913712), align=None)
        Polygon((-18.465176, 6.253458), (-14.238679, 6.253458), (-16.351928, 9.913712), align=None)
        with BuildLine():
            ThreePointArc((-21.351928, 18.573966), (-25.012182, 14.913712), (-26.351928, 9.913712))
            Line((-26.351928, 9.913712), (-21.351928, 18.573966))
        make_face()
        with BuildLine():
            ThreePointArc((-21.351928, 1.253458), (-16.351928, -0.086288), (-11.351928, 1.253458))
            Line((-11.351928, 1.253458), (-21.351928, 1.253458))
        make_face()
        with BuildLine():
            Line((-11.351928, 18.573966), (-6.351928, 9.913712))
            ThreePointArc((-6.351928, 9.913712), (-7.691674, 14.913712), (-11.351928, 18.573966))
        make_face()
    extrude(amount=F1_DEPTH)


solid = f1.part
